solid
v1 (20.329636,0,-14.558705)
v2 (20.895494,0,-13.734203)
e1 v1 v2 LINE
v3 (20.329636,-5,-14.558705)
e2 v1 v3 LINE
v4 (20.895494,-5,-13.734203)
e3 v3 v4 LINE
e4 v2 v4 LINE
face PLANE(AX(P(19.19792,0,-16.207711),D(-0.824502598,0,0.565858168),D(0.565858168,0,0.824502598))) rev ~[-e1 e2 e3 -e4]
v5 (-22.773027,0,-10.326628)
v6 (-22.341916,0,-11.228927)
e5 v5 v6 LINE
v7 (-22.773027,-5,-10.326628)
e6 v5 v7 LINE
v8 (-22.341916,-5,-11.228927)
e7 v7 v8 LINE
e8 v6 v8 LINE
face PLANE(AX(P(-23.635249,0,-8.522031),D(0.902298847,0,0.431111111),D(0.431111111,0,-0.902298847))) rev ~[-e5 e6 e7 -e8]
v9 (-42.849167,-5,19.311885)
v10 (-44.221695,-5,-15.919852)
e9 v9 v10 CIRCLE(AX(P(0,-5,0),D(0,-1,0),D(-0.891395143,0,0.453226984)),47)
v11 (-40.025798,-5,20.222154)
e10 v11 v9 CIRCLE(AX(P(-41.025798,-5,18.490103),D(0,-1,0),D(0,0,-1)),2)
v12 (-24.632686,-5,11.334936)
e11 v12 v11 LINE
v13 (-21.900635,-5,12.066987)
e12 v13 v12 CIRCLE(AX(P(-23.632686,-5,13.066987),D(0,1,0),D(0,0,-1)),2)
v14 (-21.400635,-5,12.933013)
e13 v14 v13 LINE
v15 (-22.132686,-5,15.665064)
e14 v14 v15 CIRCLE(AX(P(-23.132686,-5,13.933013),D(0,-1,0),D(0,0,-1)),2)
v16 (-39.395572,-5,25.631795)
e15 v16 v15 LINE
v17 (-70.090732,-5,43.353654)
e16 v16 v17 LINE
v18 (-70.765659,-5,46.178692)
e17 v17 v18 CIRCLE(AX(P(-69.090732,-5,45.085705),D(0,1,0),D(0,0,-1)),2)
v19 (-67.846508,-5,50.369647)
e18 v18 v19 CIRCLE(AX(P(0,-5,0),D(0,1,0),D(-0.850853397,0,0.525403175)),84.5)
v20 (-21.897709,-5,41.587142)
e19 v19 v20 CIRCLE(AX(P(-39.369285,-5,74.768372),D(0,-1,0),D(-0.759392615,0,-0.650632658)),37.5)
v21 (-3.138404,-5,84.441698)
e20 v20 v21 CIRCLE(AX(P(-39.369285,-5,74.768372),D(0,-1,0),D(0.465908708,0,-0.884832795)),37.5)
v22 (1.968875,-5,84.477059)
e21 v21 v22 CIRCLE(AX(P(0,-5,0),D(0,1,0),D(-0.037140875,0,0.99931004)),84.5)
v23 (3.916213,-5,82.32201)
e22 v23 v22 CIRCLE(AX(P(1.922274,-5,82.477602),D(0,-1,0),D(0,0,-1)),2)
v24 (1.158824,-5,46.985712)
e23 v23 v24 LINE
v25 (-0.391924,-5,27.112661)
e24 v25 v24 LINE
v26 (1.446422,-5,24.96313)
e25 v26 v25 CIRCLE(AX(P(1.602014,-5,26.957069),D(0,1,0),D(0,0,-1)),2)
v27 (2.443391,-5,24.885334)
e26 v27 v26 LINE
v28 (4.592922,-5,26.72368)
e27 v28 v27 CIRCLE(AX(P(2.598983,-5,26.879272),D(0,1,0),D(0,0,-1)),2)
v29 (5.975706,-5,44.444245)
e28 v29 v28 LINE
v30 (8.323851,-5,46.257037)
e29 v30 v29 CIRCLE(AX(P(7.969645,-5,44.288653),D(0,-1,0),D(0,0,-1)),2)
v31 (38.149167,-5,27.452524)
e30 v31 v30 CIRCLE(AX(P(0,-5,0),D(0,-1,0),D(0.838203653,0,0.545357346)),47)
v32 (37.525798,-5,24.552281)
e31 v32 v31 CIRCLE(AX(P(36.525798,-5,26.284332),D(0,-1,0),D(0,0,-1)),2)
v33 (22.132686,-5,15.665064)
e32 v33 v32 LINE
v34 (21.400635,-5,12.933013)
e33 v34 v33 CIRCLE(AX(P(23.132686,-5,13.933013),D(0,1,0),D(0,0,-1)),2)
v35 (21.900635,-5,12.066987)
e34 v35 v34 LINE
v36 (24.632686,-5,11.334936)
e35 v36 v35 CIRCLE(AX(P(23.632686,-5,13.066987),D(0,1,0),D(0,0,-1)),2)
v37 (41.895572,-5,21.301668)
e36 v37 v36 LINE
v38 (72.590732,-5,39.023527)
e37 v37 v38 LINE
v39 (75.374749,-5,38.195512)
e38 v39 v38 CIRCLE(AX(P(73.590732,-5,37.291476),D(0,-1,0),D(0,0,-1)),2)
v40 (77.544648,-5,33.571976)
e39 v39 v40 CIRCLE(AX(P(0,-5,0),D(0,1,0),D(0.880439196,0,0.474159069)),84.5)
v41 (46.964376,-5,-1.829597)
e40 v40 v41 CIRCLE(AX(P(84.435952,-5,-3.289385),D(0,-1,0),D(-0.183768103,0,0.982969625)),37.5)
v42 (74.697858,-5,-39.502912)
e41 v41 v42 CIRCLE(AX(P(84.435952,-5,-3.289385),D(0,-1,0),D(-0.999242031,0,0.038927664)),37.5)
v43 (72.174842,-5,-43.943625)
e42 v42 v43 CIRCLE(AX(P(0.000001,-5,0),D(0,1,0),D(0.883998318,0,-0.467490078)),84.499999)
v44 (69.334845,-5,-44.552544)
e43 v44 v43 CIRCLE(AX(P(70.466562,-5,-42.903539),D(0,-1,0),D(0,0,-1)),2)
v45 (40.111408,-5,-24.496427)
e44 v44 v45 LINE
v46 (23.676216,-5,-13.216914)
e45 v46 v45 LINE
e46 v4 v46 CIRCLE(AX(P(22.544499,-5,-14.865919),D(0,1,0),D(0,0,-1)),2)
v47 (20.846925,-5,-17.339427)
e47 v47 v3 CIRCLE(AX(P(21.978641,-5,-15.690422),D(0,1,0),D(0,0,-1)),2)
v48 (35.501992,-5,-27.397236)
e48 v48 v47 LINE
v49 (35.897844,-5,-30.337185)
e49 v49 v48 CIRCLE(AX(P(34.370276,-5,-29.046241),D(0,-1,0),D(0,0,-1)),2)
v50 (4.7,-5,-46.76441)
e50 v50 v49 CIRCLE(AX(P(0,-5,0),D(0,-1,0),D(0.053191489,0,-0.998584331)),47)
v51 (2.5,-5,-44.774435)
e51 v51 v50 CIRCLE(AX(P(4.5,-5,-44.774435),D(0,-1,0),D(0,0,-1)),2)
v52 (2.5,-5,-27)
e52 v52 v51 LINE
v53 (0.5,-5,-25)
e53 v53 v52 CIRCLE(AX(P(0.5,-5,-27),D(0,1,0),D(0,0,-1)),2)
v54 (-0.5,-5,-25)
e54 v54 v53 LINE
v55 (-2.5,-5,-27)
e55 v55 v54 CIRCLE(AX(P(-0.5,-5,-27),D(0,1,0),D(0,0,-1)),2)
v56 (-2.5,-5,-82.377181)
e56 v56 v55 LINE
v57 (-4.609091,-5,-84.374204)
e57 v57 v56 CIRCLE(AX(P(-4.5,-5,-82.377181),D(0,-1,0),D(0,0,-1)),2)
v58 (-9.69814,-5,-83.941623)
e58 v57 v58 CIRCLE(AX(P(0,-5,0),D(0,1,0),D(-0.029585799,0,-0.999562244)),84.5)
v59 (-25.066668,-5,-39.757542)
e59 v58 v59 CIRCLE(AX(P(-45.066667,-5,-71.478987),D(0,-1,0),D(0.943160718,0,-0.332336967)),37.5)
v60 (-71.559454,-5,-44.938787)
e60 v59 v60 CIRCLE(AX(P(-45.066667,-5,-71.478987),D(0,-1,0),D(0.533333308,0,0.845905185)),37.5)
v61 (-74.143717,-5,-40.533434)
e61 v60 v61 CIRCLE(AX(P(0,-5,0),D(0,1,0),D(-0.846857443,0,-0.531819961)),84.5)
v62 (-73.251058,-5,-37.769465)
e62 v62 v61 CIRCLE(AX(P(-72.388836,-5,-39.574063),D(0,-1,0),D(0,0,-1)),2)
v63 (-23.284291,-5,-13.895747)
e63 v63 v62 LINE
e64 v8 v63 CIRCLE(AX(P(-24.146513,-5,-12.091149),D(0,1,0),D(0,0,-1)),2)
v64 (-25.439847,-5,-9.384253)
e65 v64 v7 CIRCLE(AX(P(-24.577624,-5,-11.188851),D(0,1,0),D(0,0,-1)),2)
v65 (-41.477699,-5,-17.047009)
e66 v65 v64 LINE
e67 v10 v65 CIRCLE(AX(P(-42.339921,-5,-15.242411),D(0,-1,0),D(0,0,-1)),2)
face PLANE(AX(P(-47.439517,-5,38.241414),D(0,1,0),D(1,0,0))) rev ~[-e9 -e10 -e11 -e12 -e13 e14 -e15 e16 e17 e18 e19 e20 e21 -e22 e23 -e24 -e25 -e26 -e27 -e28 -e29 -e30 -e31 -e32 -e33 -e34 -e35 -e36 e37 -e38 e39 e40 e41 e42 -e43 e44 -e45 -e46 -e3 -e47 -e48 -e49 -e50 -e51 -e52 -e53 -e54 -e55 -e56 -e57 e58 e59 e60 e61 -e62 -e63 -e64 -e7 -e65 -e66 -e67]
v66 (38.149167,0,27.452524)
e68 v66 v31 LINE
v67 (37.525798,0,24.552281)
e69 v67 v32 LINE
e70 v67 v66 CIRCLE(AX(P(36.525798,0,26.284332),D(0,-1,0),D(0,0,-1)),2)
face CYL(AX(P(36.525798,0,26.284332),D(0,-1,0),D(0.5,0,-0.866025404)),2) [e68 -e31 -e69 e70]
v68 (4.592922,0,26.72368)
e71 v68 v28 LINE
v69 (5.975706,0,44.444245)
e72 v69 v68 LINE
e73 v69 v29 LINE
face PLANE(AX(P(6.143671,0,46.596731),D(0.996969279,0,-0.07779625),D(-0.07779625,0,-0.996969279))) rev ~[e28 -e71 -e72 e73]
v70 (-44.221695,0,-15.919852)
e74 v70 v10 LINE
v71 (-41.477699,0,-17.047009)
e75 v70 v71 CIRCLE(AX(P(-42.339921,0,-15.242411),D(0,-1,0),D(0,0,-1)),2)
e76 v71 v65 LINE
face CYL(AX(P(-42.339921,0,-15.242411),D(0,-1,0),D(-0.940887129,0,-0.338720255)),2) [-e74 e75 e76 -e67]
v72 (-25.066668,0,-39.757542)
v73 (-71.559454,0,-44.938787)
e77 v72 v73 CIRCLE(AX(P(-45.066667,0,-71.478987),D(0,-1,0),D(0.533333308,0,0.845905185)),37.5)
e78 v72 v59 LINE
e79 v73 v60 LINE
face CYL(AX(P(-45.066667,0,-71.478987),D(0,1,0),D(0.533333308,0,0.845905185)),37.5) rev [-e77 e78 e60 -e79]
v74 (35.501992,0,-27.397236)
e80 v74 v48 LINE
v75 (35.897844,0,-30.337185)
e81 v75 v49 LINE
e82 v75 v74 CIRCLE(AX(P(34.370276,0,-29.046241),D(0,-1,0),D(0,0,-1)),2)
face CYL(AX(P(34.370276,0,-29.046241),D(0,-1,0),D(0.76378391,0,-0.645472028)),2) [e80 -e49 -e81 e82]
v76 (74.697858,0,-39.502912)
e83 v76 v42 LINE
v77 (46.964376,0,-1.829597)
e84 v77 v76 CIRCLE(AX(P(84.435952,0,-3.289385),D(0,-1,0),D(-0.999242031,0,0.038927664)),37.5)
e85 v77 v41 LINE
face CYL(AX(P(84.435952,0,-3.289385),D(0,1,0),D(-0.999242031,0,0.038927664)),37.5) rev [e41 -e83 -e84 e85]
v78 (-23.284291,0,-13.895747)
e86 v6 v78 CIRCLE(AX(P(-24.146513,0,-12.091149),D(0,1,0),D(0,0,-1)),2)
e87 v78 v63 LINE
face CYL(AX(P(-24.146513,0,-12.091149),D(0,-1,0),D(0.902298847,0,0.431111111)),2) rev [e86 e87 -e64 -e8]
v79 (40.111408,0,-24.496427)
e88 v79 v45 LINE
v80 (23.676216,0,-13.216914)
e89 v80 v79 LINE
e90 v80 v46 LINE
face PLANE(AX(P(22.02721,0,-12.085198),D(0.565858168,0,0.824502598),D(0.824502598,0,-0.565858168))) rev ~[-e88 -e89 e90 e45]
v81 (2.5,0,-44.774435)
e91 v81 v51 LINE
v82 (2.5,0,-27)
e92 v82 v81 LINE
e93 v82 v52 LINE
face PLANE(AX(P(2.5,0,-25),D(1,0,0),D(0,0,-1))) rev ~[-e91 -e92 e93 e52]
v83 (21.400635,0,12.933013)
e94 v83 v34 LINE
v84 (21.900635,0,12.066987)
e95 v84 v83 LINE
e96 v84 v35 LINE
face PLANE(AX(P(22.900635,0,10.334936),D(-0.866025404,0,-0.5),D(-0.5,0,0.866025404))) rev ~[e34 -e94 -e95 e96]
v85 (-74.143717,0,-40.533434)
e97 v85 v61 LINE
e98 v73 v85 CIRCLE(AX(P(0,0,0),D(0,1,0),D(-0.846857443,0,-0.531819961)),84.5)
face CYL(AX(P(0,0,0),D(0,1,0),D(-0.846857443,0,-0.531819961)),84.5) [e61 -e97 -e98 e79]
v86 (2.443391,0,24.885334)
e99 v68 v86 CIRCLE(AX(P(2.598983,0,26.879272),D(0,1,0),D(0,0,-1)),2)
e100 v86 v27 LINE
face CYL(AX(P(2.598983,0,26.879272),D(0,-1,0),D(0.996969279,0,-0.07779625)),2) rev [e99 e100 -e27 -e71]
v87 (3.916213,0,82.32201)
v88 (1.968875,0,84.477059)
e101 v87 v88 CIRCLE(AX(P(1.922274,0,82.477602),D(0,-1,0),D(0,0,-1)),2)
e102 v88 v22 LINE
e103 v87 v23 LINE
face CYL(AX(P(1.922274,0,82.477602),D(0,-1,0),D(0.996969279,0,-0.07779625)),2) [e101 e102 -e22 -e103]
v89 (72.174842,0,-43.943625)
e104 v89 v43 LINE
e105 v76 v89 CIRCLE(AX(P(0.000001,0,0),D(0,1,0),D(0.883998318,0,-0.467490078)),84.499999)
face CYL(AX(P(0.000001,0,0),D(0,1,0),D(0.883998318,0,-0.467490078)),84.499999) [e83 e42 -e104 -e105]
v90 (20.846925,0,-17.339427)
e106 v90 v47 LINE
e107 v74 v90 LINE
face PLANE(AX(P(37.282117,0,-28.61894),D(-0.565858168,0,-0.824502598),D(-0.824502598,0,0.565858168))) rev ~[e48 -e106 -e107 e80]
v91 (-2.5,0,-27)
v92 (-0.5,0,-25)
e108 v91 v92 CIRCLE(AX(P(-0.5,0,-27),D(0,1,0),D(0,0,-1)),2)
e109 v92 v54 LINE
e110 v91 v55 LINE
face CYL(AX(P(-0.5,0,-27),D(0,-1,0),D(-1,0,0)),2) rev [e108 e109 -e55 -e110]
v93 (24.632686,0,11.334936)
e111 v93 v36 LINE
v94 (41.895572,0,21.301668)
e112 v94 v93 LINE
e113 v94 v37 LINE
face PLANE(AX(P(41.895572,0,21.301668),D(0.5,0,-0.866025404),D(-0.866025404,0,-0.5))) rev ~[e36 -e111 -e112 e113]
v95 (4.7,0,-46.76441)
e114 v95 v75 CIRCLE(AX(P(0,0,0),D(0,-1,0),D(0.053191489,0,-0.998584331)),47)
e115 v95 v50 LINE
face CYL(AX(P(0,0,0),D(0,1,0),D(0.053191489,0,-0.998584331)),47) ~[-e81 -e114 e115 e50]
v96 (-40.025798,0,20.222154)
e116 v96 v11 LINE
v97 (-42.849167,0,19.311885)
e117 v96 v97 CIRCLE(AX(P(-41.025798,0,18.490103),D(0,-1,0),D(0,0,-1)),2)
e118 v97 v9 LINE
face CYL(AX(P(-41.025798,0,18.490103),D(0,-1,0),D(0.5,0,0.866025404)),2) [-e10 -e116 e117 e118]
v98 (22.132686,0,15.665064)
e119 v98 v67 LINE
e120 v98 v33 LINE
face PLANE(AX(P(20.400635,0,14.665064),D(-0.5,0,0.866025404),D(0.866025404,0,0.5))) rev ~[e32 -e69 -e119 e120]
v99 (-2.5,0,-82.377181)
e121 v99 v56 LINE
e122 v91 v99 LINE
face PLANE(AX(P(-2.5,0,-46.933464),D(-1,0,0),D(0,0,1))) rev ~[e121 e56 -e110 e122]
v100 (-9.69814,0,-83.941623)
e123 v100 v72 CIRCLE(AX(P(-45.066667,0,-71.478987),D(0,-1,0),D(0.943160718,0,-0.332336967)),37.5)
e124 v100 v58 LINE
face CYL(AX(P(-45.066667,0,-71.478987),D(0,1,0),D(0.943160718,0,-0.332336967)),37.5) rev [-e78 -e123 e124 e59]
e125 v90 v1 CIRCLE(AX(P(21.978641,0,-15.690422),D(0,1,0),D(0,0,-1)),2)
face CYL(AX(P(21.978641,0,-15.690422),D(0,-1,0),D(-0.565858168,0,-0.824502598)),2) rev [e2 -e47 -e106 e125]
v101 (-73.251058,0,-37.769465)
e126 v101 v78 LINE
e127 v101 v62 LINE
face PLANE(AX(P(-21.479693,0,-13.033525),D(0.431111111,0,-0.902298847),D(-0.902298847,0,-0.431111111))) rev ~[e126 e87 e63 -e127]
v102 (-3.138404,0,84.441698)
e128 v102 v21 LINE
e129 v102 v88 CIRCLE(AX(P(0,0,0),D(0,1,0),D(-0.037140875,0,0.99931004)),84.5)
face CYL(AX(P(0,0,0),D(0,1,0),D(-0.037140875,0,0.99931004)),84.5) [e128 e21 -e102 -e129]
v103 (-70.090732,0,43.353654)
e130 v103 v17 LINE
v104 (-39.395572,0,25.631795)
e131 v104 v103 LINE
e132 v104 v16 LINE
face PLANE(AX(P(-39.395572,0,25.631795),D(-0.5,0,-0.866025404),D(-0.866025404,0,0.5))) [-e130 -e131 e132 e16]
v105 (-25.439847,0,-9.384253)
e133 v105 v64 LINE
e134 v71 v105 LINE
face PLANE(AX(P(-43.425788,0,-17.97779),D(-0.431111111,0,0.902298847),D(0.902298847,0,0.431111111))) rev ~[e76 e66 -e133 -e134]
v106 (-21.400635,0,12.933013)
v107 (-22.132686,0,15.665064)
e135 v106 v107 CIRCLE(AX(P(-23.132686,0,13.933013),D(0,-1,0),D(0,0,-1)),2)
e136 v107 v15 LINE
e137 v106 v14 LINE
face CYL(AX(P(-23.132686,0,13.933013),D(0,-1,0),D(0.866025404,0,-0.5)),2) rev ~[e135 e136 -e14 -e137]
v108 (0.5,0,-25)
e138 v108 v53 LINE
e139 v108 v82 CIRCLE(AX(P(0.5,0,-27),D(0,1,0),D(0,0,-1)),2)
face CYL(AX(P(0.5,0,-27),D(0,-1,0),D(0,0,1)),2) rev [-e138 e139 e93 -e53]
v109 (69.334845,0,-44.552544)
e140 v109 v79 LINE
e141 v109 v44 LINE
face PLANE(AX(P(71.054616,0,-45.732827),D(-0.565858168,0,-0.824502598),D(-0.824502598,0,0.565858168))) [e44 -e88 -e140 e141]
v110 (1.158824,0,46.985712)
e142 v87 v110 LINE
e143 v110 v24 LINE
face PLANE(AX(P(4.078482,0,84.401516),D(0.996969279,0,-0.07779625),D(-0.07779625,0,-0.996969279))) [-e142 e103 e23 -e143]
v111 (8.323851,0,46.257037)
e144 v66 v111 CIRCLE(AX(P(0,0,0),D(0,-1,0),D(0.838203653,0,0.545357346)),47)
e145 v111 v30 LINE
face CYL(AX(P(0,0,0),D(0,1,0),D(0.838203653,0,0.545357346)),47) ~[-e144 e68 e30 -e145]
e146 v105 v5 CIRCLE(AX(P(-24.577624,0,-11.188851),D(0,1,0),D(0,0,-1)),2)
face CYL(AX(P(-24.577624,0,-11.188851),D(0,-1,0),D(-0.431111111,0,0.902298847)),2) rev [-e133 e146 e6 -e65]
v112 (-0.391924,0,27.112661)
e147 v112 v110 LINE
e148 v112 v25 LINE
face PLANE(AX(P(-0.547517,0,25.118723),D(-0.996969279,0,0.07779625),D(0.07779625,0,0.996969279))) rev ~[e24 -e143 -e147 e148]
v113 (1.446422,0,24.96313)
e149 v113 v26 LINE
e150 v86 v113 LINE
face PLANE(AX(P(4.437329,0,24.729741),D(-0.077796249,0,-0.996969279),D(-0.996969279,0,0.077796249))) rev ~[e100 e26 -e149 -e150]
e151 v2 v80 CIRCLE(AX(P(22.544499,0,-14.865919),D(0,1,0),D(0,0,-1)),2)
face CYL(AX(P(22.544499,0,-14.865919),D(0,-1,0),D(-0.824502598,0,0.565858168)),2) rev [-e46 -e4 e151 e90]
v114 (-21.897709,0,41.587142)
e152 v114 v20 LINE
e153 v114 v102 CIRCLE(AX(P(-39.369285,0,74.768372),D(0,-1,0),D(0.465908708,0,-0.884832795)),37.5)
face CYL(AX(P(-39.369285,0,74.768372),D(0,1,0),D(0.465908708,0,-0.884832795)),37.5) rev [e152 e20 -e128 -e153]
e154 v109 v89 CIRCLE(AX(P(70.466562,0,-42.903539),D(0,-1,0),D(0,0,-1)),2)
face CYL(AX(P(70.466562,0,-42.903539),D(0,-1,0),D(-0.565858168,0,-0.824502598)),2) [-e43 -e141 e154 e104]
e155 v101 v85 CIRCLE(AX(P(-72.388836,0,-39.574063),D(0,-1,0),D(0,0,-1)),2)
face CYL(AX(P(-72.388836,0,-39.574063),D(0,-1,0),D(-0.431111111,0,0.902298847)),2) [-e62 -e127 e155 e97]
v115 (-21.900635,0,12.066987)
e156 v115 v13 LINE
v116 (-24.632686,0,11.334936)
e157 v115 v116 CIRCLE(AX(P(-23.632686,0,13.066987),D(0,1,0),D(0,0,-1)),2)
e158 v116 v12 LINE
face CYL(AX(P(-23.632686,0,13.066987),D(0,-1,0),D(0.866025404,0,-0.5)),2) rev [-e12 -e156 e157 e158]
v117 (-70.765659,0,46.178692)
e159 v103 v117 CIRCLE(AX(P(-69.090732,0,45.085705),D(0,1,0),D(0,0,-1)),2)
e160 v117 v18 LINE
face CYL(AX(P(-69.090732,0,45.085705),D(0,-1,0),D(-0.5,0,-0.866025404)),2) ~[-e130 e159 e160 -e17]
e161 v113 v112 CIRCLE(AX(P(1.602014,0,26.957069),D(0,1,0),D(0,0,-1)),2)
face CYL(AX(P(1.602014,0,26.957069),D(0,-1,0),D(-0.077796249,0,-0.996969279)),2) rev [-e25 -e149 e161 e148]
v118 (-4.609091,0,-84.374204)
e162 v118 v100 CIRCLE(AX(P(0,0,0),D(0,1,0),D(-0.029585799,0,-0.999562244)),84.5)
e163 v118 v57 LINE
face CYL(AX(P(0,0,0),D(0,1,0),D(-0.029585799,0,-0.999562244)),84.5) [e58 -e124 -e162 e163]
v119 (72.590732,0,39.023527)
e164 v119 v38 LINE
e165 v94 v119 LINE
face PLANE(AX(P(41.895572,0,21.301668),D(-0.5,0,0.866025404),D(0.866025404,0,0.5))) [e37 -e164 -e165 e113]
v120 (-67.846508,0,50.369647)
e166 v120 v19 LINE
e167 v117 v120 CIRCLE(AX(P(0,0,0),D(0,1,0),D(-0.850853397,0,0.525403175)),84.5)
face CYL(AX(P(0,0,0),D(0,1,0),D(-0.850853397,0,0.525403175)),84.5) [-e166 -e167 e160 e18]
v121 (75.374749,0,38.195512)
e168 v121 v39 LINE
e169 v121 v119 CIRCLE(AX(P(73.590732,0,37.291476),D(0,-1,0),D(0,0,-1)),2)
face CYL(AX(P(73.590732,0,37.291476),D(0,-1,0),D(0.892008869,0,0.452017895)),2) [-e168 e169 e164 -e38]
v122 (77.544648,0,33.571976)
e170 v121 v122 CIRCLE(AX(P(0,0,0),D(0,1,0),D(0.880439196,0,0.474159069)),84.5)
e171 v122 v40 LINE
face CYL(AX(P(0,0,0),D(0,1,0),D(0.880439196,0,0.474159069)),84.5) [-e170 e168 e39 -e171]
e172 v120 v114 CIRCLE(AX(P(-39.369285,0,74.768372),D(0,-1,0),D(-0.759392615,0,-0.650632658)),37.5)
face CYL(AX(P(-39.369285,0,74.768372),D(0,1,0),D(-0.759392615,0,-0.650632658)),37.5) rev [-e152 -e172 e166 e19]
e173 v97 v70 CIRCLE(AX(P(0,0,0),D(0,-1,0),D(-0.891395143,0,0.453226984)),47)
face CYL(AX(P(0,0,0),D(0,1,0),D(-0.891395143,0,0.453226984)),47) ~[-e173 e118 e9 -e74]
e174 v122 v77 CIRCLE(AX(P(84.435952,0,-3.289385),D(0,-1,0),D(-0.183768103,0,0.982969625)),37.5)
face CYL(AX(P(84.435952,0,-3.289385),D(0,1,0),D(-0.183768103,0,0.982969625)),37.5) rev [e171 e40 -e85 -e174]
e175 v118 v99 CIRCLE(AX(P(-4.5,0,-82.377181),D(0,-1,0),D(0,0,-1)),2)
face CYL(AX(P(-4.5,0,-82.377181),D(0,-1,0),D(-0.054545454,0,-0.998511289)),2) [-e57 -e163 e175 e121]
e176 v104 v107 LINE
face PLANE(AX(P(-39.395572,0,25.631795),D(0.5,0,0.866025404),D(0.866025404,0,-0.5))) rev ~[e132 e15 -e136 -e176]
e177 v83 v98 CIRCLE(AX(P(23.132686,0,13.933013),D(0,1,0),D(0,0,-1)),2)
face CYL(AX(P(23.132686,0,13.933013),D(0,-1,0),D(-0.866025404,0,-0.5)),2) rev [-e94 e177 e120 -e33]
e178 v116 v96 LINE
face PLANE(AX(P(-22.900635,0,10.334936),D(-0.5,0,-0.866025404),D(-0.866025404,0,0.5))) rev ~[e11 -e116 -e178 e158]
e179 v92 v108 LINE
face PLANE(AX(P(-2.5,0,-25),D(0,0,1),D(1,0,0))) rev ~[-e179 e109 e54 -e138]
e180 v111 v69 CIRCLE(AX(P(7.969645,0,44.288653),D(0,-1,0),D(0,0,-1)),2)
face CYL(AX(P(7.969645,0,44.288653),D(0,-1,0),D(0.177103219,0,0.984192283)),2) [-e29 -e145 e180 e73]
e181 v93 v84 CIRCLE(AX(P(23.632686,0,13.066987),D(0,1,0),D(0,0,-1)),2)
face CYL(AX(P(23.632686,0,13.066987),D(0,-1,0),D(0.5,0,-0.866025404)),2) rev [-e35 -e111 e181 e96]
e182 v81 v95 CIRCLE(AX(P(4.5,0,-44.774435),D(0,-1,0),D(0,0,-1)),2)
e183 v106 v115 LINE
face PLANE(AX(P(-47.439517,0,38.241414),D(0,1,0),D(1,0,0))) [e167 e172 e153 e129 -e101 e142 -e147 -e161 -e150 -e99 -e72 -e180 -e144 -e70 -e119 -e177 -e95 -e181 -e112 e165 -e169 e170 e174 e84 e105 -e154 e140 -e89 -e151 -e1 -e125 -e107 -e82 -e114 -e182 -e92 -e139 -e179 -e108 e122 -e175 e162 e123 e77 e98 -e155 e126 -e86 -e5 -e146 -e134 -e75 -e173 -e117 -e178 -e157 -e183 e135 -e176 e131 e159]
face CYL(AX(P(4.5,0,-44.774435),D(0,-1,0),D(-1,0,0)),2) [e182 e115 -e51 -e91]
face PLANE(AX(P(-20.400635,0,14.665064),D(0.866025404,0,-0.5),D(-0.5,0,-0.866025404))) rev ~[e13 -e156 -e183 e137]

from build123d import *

# Parameters (mm, degrees)
EXTRUDE_1_DEPTH = 5
EXTRUDE_2_DEPTH = 5
FILLET_1_R      = 2


with BuildPart() as part:
    # 草圖1 → 填料-伸長1 (new body)
    with BuildSketch(Plane(origin=(0, 0, 0), x_dir=(1, 0, 0), z_dir=(0, 1, 0))):
        with BuildLine():
            Line((41.895571715, -21.301668261), (22.900635095, -10.334936491))
            Line((22.900635095, -10.334936491), (20.400635095, -14.665063509))
            Line((20.400635095, -14.665063509), (39.395571715, -25.63179528))
            ThreePointArc((39.395571715, -25.63179528), (25.066666667, -39.75754296), (6.143670641, -46.596730691))
            Line((6.143670641, -46.596730691), (4.437329437, -24.729741355))
            Line((4.437329437, -24.729741355), (-0.547516958, -25.118722602))
            Line((-0.547516958, -25.118722602), (1.158824246, -46.985711938))
            ThreePointArc((1.158824246, -46.985711938), (-21.897708862, -41.587141602), (-39.395571715, -25.63179528))
            Line((-39.395571715, -25.63179528), (-20.400635095, -14.665063509))
            Line((-20.400635095, -14.665063509), (-22.900635095, -10.334936491))
            Line((-22.900635095, -10.334936491), (-41.895571715, -21.301668261))
            ThreePointArc((-41.895571715, -21.301668261), (-46.964375529, -1.829598641), (-43.425787832, 17.977790497))
            Line((-43.425787832, 17.977790497), (-23.635248961, 8.522030659))
            Line((-23.635248961, 8.522030659), (-21.479693405, 13.033524896))
            Line((-21.479693405, 13.033524896), (-41.270232276, 22.489284734))
            ThreePointArc((-41.270232276, 22.489284734), (-25.066666667, 39.75754296), (-2.5, 46.933463541))
            Line((-2.5, 46.933463541), (-2.5, 25))
            Line((-2.5, 25), (2.5, 25))
            Line((2.5, 25), (2.5, 46.933463541))
            ThreePointArc((2.5, 46.933463541), (21.897708862, 41.587141602), (37.282117191, 28.618940193))
            Line((37.282117191, 28.618940193), (19.197919523, 16.207710695))
            Line((19.197919523, 16.207710695), (22.027210363, 12.085197706))
            Line((22.027210363, 12.085197706), (40.111408031, 24.496427205))
            ThreePointArc((40.111408031, 24.496427205), (46.964375529, 1.829598641), (41.895571715, -21.301668261))
        make_face()
    extrude(amount=-EXTRUDE_1_DEPTH)

    # 草圖2 → 填料-伸長2 (add)
    with BuildSketch(Plane(origin=(0, 0, 0), x_dir=(1, 0, 0), z_dir=(0, 1, 0))):
        with BuildLine():
            ThreePointArc((-21.897708534, -41.587141774), (-31.667962065, -34.729528915), (-39.395571715, -25.63179528))
            Line((-39.395571715, -25.63179528), (-71.897112041, -44.396568337))
            ThreePointArc((-71.897112041, -44.396568337), (-69.935607979, -47.426371742), (-67.846508155, -50.369646923))
            ThreePointArc((-67.846508155, -50.369646923), (-46.409467113, -37.935155113), (-21.897708534, -41.587141774))
        make_face()
        with BuildLine():
            ThreePointArc((1.158824246, -46.985711938), (-10.715011448, -45.76230468), (-21.897708534, -41.587141774))
            ThreePointArc((-21.897708534, -41.587141774), (-5.016457748, -59.73064391), (-3.138403923, -84.441698353))
            ThreePointArc((-3.138403923, -84.441698353), (0.470468308, -84.498690283), (4.078482182, -84.401516474))
            Line((4.078482182, -84.401516474), (1.158824246, -46.985711938))
        make_face()
        with BuildLine():
            ThreePointArc((46.964375577, 1.829597397), (45.910635161, -10.060495966), (41.895571715, -21.301668261))
            Line((41.895571715, -21.301668261), (74.397112041, -40.066441318))
            ThreePointArc((74.397112041, -40.066441318), (76.040246727, -36.852827268), (77.544647892, -33.571976159))
            ThreePointArc((77.544647892, -33.571976159), (56.057542109, -21.224200551), (46.964375577, 1.829597397))
        make_face()
        with BuildLine():
            ThreePointArc((40.111408031, 24.496427205), (44.988824347, 13.601679451), (46.964375577, 1.829597397))
            ThreePointArc((46.964375577, 1.829597397), (54.236483405, 25.520941458), (74.697857874, 39.502911652))
            ThreePointArc((74.697857874, 39.502911652), (72.942778218, 42.656782648), (71.054616293, 45.732827415))
            Line((71.054616293, 45.732827415), (40.111408031, 24.496427205))
        make_face()
        with BuildLine():
            ThreePointArc((-25.066667605, 39.757542368), (-14.242673622, 44.79002398), (-2.5, 46.933463541))
            Line((-2.5, 46.933463541), (-2.5, 84.463009655))
            ThreePointArc((-2.5, 84.463009655), (-6.104638749, 84.27919901), (-9.698139737, 83.941623082))
            ThreePointArc((-9.698139737, 83.941623082), (-9.648074589, 59.159354704), (-25.066667605, 39.757542368))
        make_face()
        with BuildLine():
            ThreePointArc((-41.270232276, 22.489284734), (-34.273812918, 32.160624187), (-25.066667605, 39.757542368))
            ThreePointArc((-25.066667605, 39.757542368), (-49.220026504, 34.209701843), (-71.559453951, 44.938786701))
            ThreePointArc((-71.559453951, 44.938786701), (-73.413246526, 41.841907635), (-75.133098475, 38.668689059))
            Line((-75.133098475, 38.668689059), (-41.270232276, 22.489284734))
        make_face()
    extrude(amount=-EXTRUDE_2_DEPTH)

    # 圓角1
    fillet_1_edges = [part.edges().sort_by_distance(p)[0] for p in [
        (71.054616293, -2.5, -45.732827415),
        (-2.5, -2.5, -84.463009655),
        (-75.133098475, -2.5, -38.668689059),
        (4.437329437, -2.5, 24.729741355),
        (-0.547516958, -2.5, 25.118722602),
        (-20.400635095, -2.5, 14.665063509),
        (-22.900635095, -2.5, 10.334936491),
        (-41.895571715, -2.5, 21.301668261),
        (-43.425787832, -2.5, -17.977790497),
        (-23.635248961, -2.5, -8.522030659),
        (-21.479693405, -2.5, -13.033524896),
        (-2.5, -2.5, -25),
        (2.5, -2.5, -25),
        (2.5, -2.5, -46.933463541),
        (37.282117191, -2.5, -28.618940193),
        (19.197919523, -2.5, -16.207710695),
        (22.027210363, -2.5, -12.085197706),
        (22.900635095, -2.5, 10.334936491),
        (20.400635095, -2.5, 14.665063509),
        (39.395571715, -2.5, 25.63179528),
        (6.143670641, -2.5, 46.596730691),
        (-71.897112041, -2.5, 44.396568337),
        (4.078482182, -2.5, 84.401516474),
        (74.397112041, -2.5, 40.066441318),
    ]]
    fillet(fillet_1_edges, radius=FILLET_1_R)


solid = part.part
